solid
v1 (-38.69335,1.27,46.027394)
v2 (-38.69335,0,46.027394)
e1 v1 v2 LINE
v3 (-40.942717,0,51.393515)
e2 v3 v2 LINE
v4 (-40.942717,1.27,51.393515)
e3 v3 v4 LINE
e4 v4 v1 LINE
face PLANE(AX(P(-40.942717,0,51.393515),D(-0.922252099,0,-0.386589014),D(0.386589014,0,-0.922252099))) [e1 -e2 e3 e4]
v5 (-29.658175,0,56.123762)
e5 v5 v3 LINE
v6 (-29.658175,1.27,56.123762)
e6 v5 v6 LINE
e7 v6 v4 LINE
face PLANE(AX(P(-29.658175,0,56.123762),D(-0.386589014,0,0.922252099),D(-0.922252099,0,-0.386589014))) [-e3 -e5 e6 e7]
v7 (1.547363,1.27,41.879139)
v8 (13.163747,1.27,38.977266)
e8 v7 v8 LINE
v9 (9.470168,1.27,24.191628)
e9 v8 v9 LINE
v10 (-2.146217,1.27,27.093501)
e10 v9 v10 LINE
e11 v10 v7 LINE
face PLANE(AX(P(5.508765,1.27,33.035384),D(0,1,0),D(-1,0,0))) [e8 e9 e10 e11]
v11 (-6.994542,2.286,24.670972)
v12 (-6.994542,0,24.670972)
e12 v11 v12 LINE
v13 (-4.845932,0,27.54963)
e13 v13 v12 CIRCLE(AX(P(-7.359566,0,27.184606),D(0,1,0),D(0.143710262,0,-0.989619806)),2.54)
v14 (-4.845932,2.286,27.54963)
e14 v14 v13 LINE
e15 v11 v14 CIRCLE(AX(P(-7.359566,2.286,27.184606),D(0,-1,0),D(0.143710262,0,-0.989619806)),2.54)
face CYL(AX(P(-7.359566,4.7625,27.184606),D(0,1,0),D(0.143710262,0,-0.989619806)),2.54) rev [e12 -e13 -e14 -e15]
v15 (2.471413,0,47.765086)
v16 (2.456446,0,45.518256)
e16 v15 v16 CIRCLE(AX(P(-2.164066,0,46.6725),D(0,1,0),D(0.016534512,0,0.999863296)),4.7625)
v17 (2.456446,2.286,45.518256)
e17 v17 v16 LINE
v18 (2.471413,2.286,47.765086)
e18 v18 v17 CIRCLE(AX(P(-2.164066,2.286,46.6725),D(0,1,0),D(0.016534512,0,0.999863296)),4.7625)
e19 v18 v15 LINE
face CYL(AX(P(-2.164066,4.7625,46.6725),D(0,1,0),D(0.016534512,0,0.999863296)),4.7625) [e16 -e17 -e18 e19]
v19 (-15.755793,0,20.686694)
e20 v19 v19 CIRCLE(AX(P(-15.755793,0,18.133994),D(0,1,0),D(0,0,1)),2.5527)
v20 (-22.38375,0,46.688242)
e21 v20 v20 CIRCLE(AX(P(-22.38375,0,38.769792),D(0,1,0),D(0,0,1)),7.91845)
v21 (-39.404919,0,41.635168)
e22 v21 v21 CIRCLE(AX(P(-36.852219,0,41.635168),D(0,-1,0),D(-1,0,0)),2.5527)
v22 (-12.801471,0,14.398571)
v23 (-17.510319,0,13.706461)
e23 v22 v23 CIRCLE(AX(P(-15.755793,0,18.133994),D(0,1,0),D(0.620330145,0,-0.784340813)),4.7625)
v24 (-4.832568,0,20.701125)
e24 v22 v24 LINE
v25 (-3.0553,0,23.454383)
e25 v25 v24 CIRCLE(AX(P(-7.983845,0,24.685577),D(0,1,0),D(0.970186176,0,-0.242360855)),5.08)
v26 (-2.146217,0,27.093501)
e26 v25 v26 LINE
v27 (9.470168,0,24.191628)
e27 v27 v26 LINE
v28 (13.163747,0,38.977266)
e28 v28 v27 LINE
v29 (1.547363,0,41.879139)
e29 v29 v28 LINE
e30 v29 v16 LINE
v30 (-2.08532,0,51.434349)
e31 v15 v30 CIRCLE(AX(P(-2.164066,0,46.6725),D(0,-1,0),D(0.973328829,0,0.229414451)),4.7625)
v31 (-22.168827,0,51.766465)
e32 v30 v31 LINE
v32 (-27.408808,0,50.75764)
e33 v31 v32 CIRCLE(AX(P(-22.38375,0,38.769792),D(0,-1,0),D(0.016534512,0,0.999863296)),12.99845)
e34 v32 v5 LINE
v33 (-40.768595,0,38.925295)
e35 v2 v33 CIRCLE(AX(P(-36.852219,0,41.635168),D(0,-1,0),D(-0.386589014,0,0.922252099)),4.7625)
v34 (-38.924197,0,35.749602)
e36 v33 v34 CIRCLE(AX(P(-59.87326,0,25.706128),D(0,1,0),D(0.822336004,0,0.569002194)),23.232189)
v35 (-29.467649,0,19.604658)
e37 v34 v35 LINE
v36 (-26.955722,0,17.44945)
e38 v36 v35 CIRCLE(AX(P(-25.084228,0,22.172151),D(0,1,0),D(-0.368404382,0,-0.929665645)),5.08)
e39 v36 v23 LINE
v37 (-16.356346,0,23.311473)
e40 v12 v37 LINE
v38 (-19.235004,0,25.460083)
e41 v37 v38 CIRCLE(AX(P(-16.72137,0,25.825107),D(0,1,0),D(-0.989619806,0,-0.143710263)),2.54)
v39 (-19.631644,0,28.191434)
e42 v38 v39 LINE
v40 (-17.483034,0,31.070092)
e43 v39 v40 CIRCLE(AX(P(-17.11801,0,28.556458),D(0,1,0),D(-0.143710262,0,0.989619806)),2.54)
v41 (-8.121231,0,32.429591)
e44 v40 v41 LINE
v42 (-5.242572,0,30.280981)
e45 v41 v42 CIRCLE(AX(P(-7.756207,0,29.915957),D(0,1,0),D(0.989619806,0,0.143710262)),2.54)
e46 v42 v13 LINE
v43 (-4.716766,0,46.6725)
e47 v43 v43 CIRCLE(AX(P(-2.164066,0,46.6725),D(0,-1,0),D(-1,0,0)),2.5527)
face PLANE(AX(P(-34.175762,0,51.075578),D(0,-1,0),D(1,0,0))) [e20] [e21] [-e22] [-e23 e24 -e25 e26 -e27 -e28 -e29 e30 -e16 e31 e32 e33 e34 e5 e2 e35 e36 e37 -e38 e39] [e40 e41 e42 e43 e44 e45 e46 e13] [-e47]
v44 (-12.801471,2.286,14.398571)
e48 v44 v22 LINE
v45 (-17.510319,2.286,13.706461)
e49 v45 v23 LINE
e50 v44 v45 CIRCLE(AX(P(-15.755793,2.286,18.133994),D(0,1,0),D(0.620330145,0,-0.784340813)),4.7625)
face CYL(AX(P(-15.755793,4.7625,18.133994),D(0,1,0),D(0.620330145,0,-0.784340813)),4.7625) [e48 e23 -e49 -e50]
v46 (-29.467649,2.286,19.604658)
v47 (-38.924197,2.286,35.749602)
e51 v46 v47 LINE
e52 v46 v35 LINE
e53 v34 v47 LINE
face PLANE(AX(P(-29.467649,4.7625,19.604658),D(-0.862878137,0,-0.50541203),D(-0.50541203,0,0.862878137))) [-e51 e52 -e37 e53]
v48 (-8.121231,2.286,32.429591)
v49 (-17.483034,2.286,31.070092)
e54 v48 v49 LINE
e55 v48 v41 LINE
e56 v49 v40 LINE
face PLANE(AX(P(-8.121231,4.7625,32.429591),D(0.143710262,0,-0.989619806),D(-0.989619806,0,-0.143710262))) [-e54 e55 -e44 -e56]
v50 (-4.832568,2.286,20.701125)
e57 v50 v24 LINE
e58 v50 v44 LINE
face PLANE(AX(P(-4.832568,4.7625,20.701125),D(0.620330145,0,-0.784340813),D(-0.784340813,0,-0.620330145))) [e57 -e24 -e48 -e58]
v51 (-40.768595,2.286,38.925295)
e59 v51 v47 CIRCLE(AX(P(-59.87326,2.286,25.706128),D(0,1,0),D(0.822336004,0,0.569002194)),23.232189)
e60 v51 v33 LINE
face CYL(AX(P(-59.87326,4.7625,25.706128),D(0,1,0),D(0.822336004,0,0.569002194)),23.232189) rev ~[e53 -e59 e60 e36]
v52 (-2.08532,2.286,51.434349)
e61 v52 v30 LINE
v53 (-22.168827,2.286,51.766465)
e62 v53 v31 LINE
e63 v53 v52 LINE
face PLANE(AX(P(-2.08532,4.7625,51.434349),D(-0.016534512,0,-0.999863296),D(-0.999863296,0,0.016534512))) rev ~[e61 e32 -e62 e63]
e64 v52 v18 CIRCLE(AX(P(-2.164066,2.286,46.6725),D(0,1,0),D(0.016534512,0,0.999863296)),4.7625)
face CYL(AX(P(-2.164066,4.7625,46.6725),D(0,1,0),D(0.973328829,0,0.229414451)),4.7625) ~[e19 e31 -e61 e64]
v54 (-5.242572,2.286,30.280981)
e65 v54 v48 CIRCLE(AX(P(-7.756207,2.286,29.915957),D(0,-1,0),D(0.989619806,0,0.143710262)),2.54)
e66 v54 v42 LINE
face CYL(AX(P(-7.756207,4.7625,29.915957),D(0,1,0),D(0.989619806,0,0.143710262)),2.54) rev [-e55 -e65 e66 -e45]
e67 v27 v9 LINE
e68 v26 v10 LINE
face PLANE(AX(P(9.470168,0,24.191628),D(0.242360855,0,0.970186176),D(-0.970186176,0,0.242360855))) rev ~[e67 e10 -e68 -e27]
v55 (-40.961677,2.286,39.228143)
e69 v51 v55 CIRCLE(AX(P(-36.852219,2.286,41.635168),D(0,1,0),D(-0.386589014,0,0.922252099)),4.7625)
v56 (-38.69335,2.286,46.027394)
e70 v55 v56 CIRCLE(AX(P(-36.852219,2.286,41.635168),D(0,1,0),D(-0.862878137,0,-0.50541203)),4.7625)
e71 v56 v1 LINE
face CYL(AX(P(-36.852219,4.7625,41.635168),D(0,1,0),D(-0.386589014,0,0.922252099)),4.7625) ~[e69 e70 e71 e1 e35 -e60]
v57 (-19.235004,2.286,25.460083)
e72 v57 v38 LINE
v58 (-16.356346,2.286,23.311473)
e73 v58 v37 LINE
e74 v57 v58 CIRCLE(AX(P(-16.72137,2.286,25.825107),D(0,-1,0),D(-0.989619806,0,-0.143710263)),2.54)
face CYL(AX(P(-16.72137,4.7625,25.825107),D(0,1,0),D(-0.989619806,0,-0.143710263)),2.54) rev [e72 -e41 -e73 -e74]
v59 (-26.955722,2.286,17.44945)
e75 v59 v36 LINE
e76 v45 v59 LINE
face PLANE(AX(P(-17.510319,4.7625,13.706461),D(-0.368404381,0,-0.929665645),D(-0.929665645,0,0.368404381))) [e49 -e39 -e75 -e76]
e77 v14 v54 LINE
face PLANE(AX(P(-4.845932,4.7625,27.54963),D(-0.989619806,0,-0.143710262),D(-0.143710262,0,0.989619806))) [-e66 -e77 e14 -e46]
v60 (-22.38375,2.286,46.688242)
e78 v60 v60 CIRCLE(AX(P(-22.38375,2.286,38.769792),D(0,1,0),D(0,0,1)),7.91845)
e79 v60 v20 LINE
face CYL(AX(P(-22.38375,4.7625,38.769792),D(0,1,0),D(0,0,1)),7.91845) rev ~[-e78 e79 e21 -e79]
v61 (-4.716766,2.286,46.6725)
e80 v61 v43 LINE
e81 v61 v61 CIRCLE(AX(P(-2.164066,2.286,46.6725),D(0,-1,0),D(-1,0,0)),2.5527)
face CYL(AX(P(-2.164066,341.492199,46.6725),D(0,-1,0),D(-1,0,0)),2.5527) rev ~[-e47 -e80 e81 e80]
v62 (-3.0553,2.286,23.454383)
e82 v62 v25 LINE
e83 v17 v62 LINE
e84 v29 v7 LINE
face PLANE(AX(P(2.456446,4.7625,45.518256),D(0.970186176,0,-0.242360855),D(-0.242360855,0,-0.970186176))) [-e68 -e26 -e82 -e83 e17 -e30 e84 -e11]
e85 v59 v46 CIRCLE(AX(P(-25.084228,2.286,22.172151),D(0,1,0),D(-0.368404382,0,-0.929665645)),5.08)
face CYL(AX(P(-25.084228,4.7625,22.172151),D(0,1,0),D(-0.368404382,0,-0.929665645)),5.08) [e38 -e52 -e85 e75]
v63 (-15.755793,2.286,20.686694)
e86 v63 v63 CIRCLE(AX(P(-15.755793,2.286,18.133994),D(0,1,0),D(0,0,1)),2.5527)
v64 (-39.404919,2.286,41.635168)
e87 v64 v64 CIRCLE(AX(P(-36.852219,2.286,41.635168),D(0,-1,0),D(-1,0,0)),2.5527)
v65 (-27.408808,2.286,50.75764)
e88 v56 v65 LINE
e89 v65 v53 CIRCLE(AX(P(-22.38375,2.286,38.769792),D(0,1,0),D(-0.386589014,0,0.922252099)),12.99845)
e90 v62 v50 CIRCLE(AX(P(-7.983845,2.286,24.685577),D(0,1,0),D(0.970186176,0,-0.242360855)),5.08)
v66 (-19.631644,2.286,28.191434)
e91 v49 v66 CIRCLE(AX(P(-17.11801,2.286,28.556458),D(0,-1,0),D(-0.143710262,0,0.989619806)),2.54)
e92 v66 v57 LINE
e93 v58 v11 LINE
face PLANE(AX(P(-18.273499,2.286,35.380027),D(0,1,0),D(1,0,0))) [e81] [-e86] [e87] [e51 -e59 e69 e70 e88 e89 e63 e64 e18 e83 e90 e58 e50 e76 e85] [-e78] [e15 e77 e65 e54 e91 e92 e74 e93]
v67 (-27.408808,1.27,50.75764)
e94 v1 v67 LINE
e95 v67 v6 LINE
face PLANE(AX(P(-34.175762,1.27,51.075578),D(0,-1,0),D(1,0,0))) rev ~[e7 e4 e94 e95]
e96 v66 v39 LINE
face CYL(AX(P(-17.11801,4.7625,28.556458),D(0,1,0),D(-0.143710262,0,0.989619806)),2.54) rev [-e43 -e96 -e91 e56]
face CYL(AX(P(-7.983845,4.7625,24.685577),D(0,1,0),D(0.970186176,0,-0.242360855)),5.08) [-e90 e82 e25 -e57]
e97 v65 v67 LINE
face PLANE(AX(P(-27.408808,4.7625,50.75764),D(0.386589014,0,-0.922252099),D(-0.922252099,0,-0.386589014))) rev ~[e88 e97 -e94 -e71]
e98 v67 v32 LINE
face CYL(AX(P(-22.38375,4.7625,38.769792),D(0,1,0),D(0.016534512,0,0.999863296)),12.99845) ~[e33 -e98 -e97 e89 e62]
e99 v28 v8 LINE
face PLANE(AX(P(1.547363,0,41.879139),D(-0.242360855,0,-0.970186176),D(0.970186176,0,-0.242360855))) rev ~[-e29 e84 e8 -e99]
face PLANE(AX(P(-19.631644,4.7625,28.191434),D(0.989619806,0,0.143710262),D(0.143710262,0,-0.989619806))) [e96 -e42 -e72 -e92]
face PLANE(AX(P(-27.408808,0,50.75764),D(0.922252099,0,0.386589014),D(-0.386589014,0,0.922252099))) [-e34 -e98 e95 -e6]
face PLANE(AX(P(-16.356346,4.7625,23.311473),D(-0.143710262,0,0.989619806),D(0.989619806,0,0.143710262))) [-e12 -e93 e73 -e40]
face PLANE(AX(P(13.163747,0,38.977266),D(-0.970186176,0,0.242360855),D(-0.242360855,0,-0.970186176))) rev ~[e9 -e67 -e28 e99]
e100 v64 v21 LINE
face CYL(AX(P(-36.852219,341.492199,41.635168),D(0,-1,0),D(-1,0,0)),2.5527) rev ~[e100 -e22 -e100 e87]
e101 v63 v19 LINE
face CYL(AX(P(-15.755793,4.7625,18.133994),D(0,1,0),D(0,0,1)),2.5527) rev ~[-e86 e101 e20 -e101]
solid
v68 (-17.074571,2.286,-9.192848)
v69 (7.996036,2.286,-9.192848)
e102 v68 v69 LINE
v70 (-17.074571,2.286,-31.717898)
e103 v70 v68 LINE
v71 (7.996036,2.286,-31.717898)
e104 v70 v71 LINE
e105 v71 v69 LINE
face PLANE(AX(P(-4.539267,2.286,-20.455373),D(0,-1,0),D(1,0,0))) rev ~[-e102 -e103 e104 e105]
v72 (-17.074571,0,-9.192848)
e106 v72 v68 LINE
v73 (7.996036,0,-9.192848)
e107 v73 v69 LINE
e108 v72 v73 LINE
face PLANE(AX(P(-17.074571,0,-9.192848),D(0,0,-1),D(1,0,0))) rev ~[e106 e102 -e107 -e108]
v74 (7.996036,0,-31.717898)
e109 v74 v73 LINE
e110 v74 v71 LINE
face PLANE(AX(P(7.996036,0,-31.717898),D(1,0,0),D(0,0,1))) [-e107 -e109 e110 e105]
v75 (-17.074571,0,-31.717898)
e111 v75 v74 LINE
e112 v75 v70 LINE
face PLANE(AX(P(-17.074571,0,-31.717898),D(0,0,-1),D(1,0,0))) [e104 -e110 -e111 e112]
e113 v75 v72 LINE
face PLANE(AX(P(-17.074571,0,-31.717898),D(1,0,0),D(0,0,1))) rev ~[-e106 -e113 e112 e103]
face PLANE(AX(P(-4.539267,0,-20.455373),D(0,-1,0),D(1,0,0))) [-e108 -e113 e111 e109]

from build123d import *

# Parameters (mm, degrees)
BOSS_EXTRUDE4_DEPTH              = 4.7625
CUT_EXTRUDE1_REACH               = 271.353
SKETCH6_R                        = 14.26845
SKETCH6_R_2                      = 22.86
CUT_EXTRUDE2_REACH               = 271.353
SKETCH7_R                        = 18.48095
CUT_EXTRUDE4_DEPTH               = 270.352829076
BOSS_EXTRUDE9_START              = -4.7625
BOSS_EXTRUDE9_DEPTH              = 4.7625
FILLET1_R                        = 7.62
F_10_CLEARANCE_HOLE1_D           = 4.9784
FILLET4_R                        = 50.8
F_8_32_TAPPED_HOLE1_D            = 3.4544
PIVOTING_BEAM_SENSOR_MOUNT_REACH = 271.268
SKETCH37_R                       = 1.5
SKETCH38_R                       = 7.91845
ENCODER_BOARD_ADDON_DEPTH        = 4.7625
F_10_32_TAPPED_HOLE1_D           = 4.0386
F_10_CLEARANCE_HOLE3_D           = 5.1054
SKETCH47_OUTSIDE_W               = 192.439
SKETCH47_OUTSIDE_H               = 382.734
SKETCH47_OUTSIDE_R               = 2.5527
CUT_EXTRUDE8_DEPTH               = 270.267923318
SKETCH47_2_R                     = 2.5527
CUT_EXTRUDE9_DEPTH               = 2.4765
BOSS_EXTRUDE17_DEPTH             = 1.27
SKETCH59_W                       = 25.070606449
SKETCH59_H                       = 22.525049467
BOSS_EXTRUDE18_DEPTH             = 2.286


with BuildPart() as part:
    # Sketch1 → Boss-Extrude4 (new body)
    with BuildSketch(Plane(origin=(0, 0, 0), x_dir=(1, 0, 0), z_dir=(0, 1, 0))):
        with BuildLine():
            Line((-48.759061319, 205.201963751), (-63.900240413, 124.413609674))
            Line((-63.900240413, 124.413609674), (-26.343120253, -7.50014102))
            ThreePointArc((-26.343120253, -7.50014102), (3.91326684, -27.109010359), (27.388801541, 0.256222825))
            ThreePointArc((27.388801541, 0.256222825), (34.508498918, 53.661639681), (56.295976161, 102.93774419))
            ThreePointArc((56.295976161, 102.93774419), (56.986751486, 124.47275891), (38.624985881, 135.745717413))
            ThreePointArc((38.624985881, 135.745717413), (4.94281576, 154.646064466), (1.637545013, 193.127058321))
            Line((1.637545013, 193.127058321), (18.706481277, 233.364638746))
            ThreePointArc((18.706481277, 233.364638746), (10.708035835, 258.569637187), (-15.424905572, 254.527799821))
            Line((-15.424905572, 254.527799821), (-37.390675283, 228.913568565))
            ThreePointArc((-37.390675283, 228.913568565), (-44.635714299, 217.806104366), (-48.759061319, 205.201963751))
        make_face()
    extrude(amount=BOSS_EXTRUDE4_DEPTH)

    # Sketch6 → Cut-Extrude1 (cut, up to next)
    with BuildSketch(Plane(origin=(0, 4.7625, 0), x_dir=(1, 0, 0), z_dir=(0, 1, 0)), mode=Mode.PRIVATE) as cut_extrude1_sk1:
        with Locations(Location((38.1, 114.3, 0), (0, 0, 270))):
            Circle(SKETCH6_R)
    cut_extrude1_tool1 = extrude(cut_extrude1_sk1.sketch, amount=-CUT_EXTRUDE1_REACH, mode=Mode.PRIVATE) & part.part
    # Sketch6 → Cut-Extrude1 (cut, up to next)
    with BuildSketch(Plane(origin=(0, 4.7625, 0), x_dir=(1, 0, 0), z_dir=(0, 1, 0)), mode=Mode.PRIVATE) as cut_extrude1_sk2:
        with Locations(Location((-4.294087555, 47.653799352, 0), (0, 0, 270))):
            Circle(SKETCH6_R_2)
    cut_extrude1_tool2 = extrude(cut_extrude1_sk2.sketch, amount=-CUT_EXTRUDE1_REACH, mode=Mode.PRIVATE) & part.part
    # Sketch6 → Cut-Extrude1 (cut, up to next)
    with BuildSketch(Plane(origin=(0, 4.7625, 0), x_dir=(1, 0, 0), z_dir=(0, 1, 0)), mode=Mode.PRIVATE) as cut_extrude1_sk3:
        with Locations(Location((-25.238541156, 93.240320194, 0), (0, 0, 270))):
            Circle(SKETCH6_R)
    cut_extrude1_tool3 = extrude(cut_extrude1_sk3.sketch, amount=-CUT_EXTRUDE1_REACH, mode=Mode.PRIVATE) & part.part
    # Sketch6 → Cut-Extrude1 (cut, up to next)
    with BuildSketch(Plane(origin=(0, 4.7625, 0), x_dir=(1, 0, 0), z_dir=(0, 1, 0)), mode=Mode.PRIVATE) as cut_extrude1_sk4:
        with Locations(Location((-31.378993813, 133.413749735, 0), (0, 0, 270))):
            Circle(SKETCH6_R)
    cut_extrude1_tool4 = extrude(cut_extrude1_sk4.sketch, amount=-CUT_EXTRUDE1_REACH, mode=Mode.PRIVATE) & part.part
    # Sketch6 → Cut-Extrude1 (cut, up to next)
    with BuildSketch(Plane(origin=(0, 4.7625, 0), x_dir=(1, 0, 0), z_dir=(0, 1, 0)), mode=Mode.PRIVATE) as cut_extrude1_sk5:
        with Locations(Location((0, 241.3, 0), (0, 0, 270))):
            Circle(SKETCH6_R)
    cut_extrude1_tool5 = extrude(cut_extrude1_sk5.sketch, amount=-CUT_EXTRUDE1_REACH, mode=Mode.PRIVATE) & part.part
    add(cut_extrude1_tool1.solids().sort_by_distance((38.1, 4.7625, -114.3))[0], mode=Mode.SUBTRACT)
    add(cut_extrude1_tool2.solids().sort_by_distance((-4.294088, 4.7625, -47.653799))[0], mode=Mode.SUBTRACT)
    add(cut_extrude1_tool3.solids().sort_by_distance((-25.238541, 4.7625, -93.24032))[0], mode=Mode.SUBTRACT)
    add(cut_extrude1_tool4.solids().sort_by_distance((-31.378994, 4.7625, -133.41375))[0], mode=Mode.SUBTRACT)
    add(cut_extrude1_tool5.solids().sort_by_distance((0, 4.7625, -241.3))[0], mode=Mode.SUBTRACT)

    # Sketch7 → Cut-Extrude2 (cut, up to next)
    with BuildSketch(Plane(origin=(0, 4.7625, 0), x_dir=(1, 0, 0), z_dir=(0, 1, 0)), mode=Mode.PRIVATE) as cut_extrude2_sk1:
        with Locations(Location((0, 0, 0), (0, 0, 270))):
            Circle(SKETCH7_R)
    cut_extrude2_tool1 = extrude(cut_extrude2_sk1.sketch, amount=-CUT_EXTRUDE2_REACH, mode=Mode.PRIVATE) & part.part
    add(cut_extrude2_tool1.solids().sort_by_distance((0, 4.7625, 0))[0], mode=Mode.SUBTRACT)

    # Sketch11 → Cut-Extrude4 (cut, through all)
    with BuildSketch(Plane(origin=(0, 4.7625, 0), x_dir=(1, 0, 0), z_dir=(0, 1, 0))):
        with BuildLine():
            Line((-14.24681913, 167.157327815), (-22.781165939, 169.646710179))
            ThreePointArc((-22.781165939, 169.646710179), (-24.940081812, 173.583756312), (-21.003035679, 175.742672185))
            Line((-21.003035679, 175.742672185), (-12.46868887, 173.253289821))
            ThreePointArc((-12.46868887, 173.253289821), (-10.309772997, 169.316243688), (-14.24681913, 167.157327815))
        make_face()
    extrude(amount=-CUT_EXTRUDE4_DEPTH, mode=Mode.SUBTRACT)

    # Sketch22 → Boss-Extrude9 (add)
    with BuildSketch(Plane(origin=(0, 4.7625, 0), x_dir=(1, 0, 0), z_dir=(0, 1, 0)).offset(BOSS_EXTRUDE9_START)):
        with BuildLine():
            Line((44.13587102, -0.238974107), (45.721176973, 83.59457079))
            ThreePointArc((45.721176973, 83.59457079), (31.828729714, 42.965057017), (27.388801541, 0.256222825))
            ThreePointArc((27.388801541, 0.256222825), (27.389946843, 0.053962259), (27.389598514, -0.14830125))
            Line((27.389598514, -0.14830125), (44.13587102, -0.238974107))
        make_face()
        with BuildLine():
            Line((-26.343120253, -7.50014102), (-63.900240413, 124.413609674))
            Line((-63.900240413, 124.413609674), (-58.659130106, 55.341604227))
            ThreePointArc((-58.659130106, 55.341604227), (-58.57862185, 54.70676299), (-58.434627096, 54.083248366))
            Line((-58.434627096, 54.083248366), (-39.267840062, -13.237215919))
            Line((-39.267840062, -13.237215919), (-25.732483938, -9.383569172))
            ThreePointArc((-25.732483938, -9.383569172), (-26.054826105, -8.447374541), (-26.343120253, -7.50014102))
        make_face()
    extrude(amount=BOSS_EXTRUDE9_DEPTH)

    # Fillet1
    fillet1_edges = [part.edges().sort_by_distance(p)[0] for p in [
        (44.13587102, 2.38125, 0.238974107),
        (27.389598514, 2.38125, 0.14830125),
        (45.721176973, 2.38125, -83.59457079),
        (-25.732483938, 2.38125, 9.383569172),
    ]]
    fillet(fillet1_edges, radius=FILLET1_R)

    # #10 Clearance Hole1 (through all)
    with Locations(Plane(origin=(0, 4.7625, 0), x_dir=(1, 0, 0), z_dir=(0, 1, 0))):
        with Locations((-20.169087555, 23.894274946), (-52.327331966, 55.822054335), (31.486575952, 69.734116153), (0.686224782, 152.463749735), (-32.612193782, 193.553892754), (-52.098807962, 161.528602156)):
            Hole(F_10_CLEARANCE_HOLE1_D / 2)

    # Fillet4
    fillet4_edges = [part.edges().sort_by_distance(p)[0] for p in [
        (-63.900240413, 2.38125, -124.413609674),
    ]]
    fillet(fillet4_edges, radius=FILLET4_R)

    # #8-32 Tapped Hole1 (through all)
    with Locations(Plane(origin=(0, 4.7625, 0), x_dir=(1, 0, 0), z_dir=(0, 1, 0))):
        with Locations((1.914830287, -21.24990167), (13.247190201, 16.725335505), (-17.940310329, 11.548599972)):
            Hole(F_8_32_TAPPED_HOLE1_D / 2)

    # Sketch37 → Pivoting Beam Sensor Mount (cut, up to next)
    with BuildSketch(Plane.XZ, mode=Mode.PRIVATE) as pivoting_beam_sensor_mount_sk1:
        with Locations(Location((23.083384984, -92.174973762, 0), (0, 0, 270))):
            Circle(SKETCH37_R)
    pivoting_beam_sensor_mount_tool1 = extrude(pivoting_beam_sensor_mount_sk1.sketch, amount=-PIVOTING_BEAM_SENSOR_MOUNT_REACH, mode=Mode.PRIVATE) & part.part
    # Sketch37 → Pivoting Beam Sensor Mount (cut, up to next)
    with BuildSketch(Plane.XZ, mode=Mode.PRIVATE) as pivoting_beam_sensor_mount_sk2:
        with BuildLine():
            ThreePointArc((-3.647543534, -89.163751321), (-3.541377345, -96.013206549), (-1.708587973, -102.613751321))
            ThreePointArc((-1.708587973, -102.613751321), (0.255952019, -103.414115377), (1.056316075, -101.449575385))
            ThreePointArc((1.056316075, -101.449575385), (-0.572072996, -95.585150848), (-0.666399089, -89.499575385))
            ThreePointArc((-0.666399089, -89.499575385), (-1.989059279, -87.841091131), (-3.647543534, -89.163751321))
        make_face()
    pivoting_beam_sensor_mount_tool2 = extrude(pivoting_beam_sensor_mount_sk2.sketch, amount=-PIVOTING_BEAM_SENSOR_MOUNT_REACH, mode=Mode.PRIVATE) & part.part
    add(pivoting_beam_sensor_mount_tool1.solids().sort_by_distance((23.083385, 0, -92.174974))[0], mode=Mode.SUBTRACT)
    add(pivoting_beam_sensor_mount_tool2.solids().sort_by_distance((-1.700962, 0, -95.747892))[0], mode=Mode.SUBTRACT)

    # Sketch38 → Encoder Board Addon (add)
    with BuildSketch(Plane(origin=(0, 4.7625, 0), x_dir=(1, 0, 0), z_dir=(0, 1, 0))):
        with BuildLine():
            Line((-37.529034093, -19.344511049), (-39.267840062, -13.237215919))
            Line((-39.267840062, -13.237215919), (-31.839812047, -11.12238453))
            ThreePointArc((-31.839812047, -11.12238453), (-27.003669081, -11.344505665), (-23.277388672, -14.435209614))
            ThreePointArc((-23.277388672, -14.435209614), (-5.966086008, -26.732338427), (14.931018089, -22.962508548))
            ThreePointArc((14.931018089, -22.962508548), (8.591508195, -29.075813245), (4.9829433, -37.109501029))
            Line((4.9829433, -37.109501029), (2.47141259, -47.765086321))
            ThreePointArc((2.47141259, -47.765086321), (0.822880543, -50.381887664), (-2.085320348, -51.434348945))
            Line((-2.085320348, -51.434348945), (-22.168826979, -51.766465319))
            ThreePointArc((-22.168826979, -51.766465319), (-24.841143263, -51.533840241), (-27.408807967, -50.757640062))
            Line((-27.408807967, -50.757640062), (-38.693349579, -46.027393508))
            ThreePointArc((-38.693349579, -46.027393508), (-41.42356145, -42.97092165), (-40.768594617, -38.925294934))
            ThreePointArc((-40.768594617, -38.925294934), (-36.952648742, -29.498249601), (-37.529034093, -19.344511049))
        make_face()
        with Locations(Location((-22.38375, -38.769792264, 0), (0, 0, 270))):
            Circle(SKETCH38_R, mode=Mode.SUBTRACT)
    extrude(amount=-ENCODER_BOARD_ADDON_DEPTH)

    # #10-32 Tapped Hole1 (through all)
    with Locations(Plane(origin=(0, 4.7625, 0), x_dir=(1, 0, 0), z_dir=(0, 1, 0))):
        with Locations((-2.164065959, -46.6725), (-36.852219401, -41.635167886), (-15.755793253, -18.133994079)):
            Hole(F_10_32_TAPPED_HOLE1_D / 2)

    # #10 Clearance Hole3 (through all)
    with Locations(Plane(origin=(0, 4.7625, 0), x_dir=(1, 0, 0), z_dir=(0, 1, 0))):
        with Locations((-36.852219401, -41.635167886), (-2.164065959, -46.6725)):
            Hole(F_10_CLEARANCE_HOLE3_D / 2)

    # Sketch47 outside → Cut-Extrude8 (cut, through all)
    # profile 1 of 3: a face of its own
    with BuildSketch(Plane(origin=(0, 4.7625, 0), x_dir=(1, 0, 0), z_dir=(0, 1, 0))):
        with Locations((-1.9945, 104.926)):
            Rectangle(SKETCH47_OUTSIDE_W, SKETCH47_OUTSIDE_H)
        with BuildLine():
            Line((-38.693349579, -46.027393508), (-27.408807967, -50.757640062))
            ThreePointArc((-27.408807967, -50.757640062), (-24.841143263, -51.533840241), (-22.168826979, -51.766465319))
            Line((-22.168826979, -51.766465319), (-2.085320348, -51.434348945))
            ThreePointArc((-2.085320348, -51.434348945), (1.613604275, -49.572605834), (2.456445703, -45.518256427))
            Line((2.456445703, -45.518256427), (-3.055299638, -23.454383414))
            ThreePointArc((-3.055299638, -23.454383414), (-3.715825704, -21.93050709), (-4.832568275, -20.701125227))
            Line((-4.832568275, -20.701125227), (-12.801470938, -14.398570955))
            ThreePointArc((-12.801470938, -14.398570955), (-15.063238725, -13.422118181), (-17.510319119, -13.706461444))
            Line((-17.510319119, -13.706461444), (-26.955722074, -17.449449957))
            ThreePointArc((-26.955722074, -17.449449957), (-28.392130747, -18.316742481), (-29.467648755, -19.604658322))
            Line((-29.467648755, -19.604658322), (-40.96167653, -39.228143092))
            ThreePointArc((-40.96167653, -39.228143092), (-41.369942708, -43.14234484), (-38.693349579, -46.027393508))
        make_face(mode=Mode.SUBTRACT)
    # profile 2 of 3: a face of its own
    with BuildSketch(Plane(origin=(0, 4.7625, 0), x_dir=(1, 0, 0), z_dir=(0, 1, 0))):
        with Locations(Location((-15.755793253, -18.133994079, 0), (0, 0, 270))):
            Circle(SKETCH47_OUTSIDE_R)
    # profile 3 of 3: a face of its own
    with BuildSketch(Plane(origin=(0, 4.7625, 0), x_dir=(1, 0, 0), z_dir=(0, 1, 0))):
        with BuildLine():
            Line((-4.84593204, -27.549630083), (-5.242572374, -30.280980815))
            ThreePointArc((-5.242572374, -30.280980815), (-6.23690981, -31.951475606), (-8.121230748, -32.429591056))
            Line((-8.121230748, -32.429591056), (-17.48303399, -31.070091993))
            ThreePointArc((-17.48303399, -31.070091993), (-19.153528781, -30.075754557), (-19.631644231, -28.191433619))
            Line((-19.631644231, -28.191433619), (-19.235003898, -25.460082887))
            ThreePointArc((-19.235003898, -25.460082887), (-18.240666462, -23.789588097), (-16.356345524, -23.311472646))
            Line((-16.356345524, -23.311472646), (-6.994542282, -24.67097171))
            ThreePointArc((-6.994542282, -24.67097171), (-5.324047491, -25.665309145), (-4.84593204, -27.549630083))
        make_face()
    extrude(amount=-CUT_EXTRUDE8_DEPTH, mode=Mode.SUBTRACT)

    # Sketch47<2> → Cut-Extrude9 (cut)
    with BuildSketch(Plane(origin=(0, 4.7625, 0), x_dir=(1, 0, 0), z_dir=(0, 1, 0))):
        with BuildLine():
            Line((-38.693349579, -46.027393508), (-27.408807967, -50.757640062))
            ThreePointArc((-27.408807967, -50.757640062), (-24.841143263, -51.533840241), (-22.168826979, -51.766465319))
            Line((-22.168826979, -51.766465319), (-2.085320348, -51.434348945))
            ThreePointArc((-2.085320348, -51.434348945), (1.613604275, -49.572605834), (2.456445703, -45.518256427))
            Line((2.456445703, -45.518256427), (-3.055299638, -23.454383414))
            ThreePointArc((-3.055299638, -23.454383414), (-3.715825704, -21.93050709), (-4.832568275, -20.701125227))
            Line((-4.832568275, -20.701125227), (-12.801470938, -14.398570955))
            ThreePointArc((-12.801470938, -14.398570955), (-15.063238725, -13.422118181), (-17.510319119, -13.706461444))
            Line((-17.510319119, -13.706461444), (-26.955722074, -17.449449957))
            ThreePointArc((-26.955722074, -17.449449957), (-28.392130747, -18.316742481), (-29.467648755, -19.604658322))
            Line((-29.467648755, -19.604658322), (-40.96167653, -39.228143092))
            ThreePointArc((-40.96167653, -39.228143092), (-41.369942708, -43.14234484), (-38.693349579, -46.027393508))
        make_face()
        with Locations(Location((-15.755793253, -18.133994079, 0), (0, 0, 270))):
            Circle(SKETCH47_2_R, mode=Mode.SUBTRACT)
        with BuildLine():
            Line((-4.84593204, -27.549630083), (-5.242572374, -30.280980815))
            ThreePointArc((-5.242572374, -30.280980815), (-6.23690981, -31.951475606), (-8.121230748, -32.429591056))
            Line((-8.121230748, -32.429591056), (-17.48303399, -31.070091993))
            ThreePointArc((-17.48303399, -31.070091993), (-19.153528781, -30.075754557), (-19.631644231, -28.191433619))
            Line((-19.631644231, -28.191433619), (-19.235003898, -25.460082887))
            ThreePointArc((-19.235003898, -25.460082887), (-18.240666462, -23.789588097), (-16.356345524, -23.311472646))
            Line((-16.356345524, -23.311472646), (-6.994542282, -24.67097171))
            ThreePointArc((-6.994542282, -24.67097171), (-5.324047491, -25.665309145), (-4.84593204, -27.549630083))
        make_face(mode=Mode.SUBTRACT)
    extrude(amount=-CUT_EXTRUDE9_DEPTH, mode=Mode.SUBTRACT)

    # Sketch57 → Boss-Extrude17 (add)
    with BuildSketch(Plane.XZ):
        Polygon((-2.146216684, 27.09350126), (1.54736275, 41.87913858), (13.16374728, 38.977265765), (9.470167845, 24.191628444), align=None)
        Polygon((-38.693349579, 46.027393508), (-27.408807967, 50.757640062), (-29.658175238, 56.12376174), (-40.942716851, 51.393515186), align=None)
    extrude(amount=-BOSS_EXTRUDE17_DEPTH)


with BuildPart() as body_2:
    # Sketch59 → Boss-Extrude18 (new body)
    with BuildSketch(Plane.XZ):
        with Locations((-4.539267441, -20.455372988)):
            Rectangle(SKETCH59_W, SKETCH59_H)
    extrude(amount=-BOSS_EXTRUDE18_DEPTH)


solid = Compound([part.part, body_2.part])
